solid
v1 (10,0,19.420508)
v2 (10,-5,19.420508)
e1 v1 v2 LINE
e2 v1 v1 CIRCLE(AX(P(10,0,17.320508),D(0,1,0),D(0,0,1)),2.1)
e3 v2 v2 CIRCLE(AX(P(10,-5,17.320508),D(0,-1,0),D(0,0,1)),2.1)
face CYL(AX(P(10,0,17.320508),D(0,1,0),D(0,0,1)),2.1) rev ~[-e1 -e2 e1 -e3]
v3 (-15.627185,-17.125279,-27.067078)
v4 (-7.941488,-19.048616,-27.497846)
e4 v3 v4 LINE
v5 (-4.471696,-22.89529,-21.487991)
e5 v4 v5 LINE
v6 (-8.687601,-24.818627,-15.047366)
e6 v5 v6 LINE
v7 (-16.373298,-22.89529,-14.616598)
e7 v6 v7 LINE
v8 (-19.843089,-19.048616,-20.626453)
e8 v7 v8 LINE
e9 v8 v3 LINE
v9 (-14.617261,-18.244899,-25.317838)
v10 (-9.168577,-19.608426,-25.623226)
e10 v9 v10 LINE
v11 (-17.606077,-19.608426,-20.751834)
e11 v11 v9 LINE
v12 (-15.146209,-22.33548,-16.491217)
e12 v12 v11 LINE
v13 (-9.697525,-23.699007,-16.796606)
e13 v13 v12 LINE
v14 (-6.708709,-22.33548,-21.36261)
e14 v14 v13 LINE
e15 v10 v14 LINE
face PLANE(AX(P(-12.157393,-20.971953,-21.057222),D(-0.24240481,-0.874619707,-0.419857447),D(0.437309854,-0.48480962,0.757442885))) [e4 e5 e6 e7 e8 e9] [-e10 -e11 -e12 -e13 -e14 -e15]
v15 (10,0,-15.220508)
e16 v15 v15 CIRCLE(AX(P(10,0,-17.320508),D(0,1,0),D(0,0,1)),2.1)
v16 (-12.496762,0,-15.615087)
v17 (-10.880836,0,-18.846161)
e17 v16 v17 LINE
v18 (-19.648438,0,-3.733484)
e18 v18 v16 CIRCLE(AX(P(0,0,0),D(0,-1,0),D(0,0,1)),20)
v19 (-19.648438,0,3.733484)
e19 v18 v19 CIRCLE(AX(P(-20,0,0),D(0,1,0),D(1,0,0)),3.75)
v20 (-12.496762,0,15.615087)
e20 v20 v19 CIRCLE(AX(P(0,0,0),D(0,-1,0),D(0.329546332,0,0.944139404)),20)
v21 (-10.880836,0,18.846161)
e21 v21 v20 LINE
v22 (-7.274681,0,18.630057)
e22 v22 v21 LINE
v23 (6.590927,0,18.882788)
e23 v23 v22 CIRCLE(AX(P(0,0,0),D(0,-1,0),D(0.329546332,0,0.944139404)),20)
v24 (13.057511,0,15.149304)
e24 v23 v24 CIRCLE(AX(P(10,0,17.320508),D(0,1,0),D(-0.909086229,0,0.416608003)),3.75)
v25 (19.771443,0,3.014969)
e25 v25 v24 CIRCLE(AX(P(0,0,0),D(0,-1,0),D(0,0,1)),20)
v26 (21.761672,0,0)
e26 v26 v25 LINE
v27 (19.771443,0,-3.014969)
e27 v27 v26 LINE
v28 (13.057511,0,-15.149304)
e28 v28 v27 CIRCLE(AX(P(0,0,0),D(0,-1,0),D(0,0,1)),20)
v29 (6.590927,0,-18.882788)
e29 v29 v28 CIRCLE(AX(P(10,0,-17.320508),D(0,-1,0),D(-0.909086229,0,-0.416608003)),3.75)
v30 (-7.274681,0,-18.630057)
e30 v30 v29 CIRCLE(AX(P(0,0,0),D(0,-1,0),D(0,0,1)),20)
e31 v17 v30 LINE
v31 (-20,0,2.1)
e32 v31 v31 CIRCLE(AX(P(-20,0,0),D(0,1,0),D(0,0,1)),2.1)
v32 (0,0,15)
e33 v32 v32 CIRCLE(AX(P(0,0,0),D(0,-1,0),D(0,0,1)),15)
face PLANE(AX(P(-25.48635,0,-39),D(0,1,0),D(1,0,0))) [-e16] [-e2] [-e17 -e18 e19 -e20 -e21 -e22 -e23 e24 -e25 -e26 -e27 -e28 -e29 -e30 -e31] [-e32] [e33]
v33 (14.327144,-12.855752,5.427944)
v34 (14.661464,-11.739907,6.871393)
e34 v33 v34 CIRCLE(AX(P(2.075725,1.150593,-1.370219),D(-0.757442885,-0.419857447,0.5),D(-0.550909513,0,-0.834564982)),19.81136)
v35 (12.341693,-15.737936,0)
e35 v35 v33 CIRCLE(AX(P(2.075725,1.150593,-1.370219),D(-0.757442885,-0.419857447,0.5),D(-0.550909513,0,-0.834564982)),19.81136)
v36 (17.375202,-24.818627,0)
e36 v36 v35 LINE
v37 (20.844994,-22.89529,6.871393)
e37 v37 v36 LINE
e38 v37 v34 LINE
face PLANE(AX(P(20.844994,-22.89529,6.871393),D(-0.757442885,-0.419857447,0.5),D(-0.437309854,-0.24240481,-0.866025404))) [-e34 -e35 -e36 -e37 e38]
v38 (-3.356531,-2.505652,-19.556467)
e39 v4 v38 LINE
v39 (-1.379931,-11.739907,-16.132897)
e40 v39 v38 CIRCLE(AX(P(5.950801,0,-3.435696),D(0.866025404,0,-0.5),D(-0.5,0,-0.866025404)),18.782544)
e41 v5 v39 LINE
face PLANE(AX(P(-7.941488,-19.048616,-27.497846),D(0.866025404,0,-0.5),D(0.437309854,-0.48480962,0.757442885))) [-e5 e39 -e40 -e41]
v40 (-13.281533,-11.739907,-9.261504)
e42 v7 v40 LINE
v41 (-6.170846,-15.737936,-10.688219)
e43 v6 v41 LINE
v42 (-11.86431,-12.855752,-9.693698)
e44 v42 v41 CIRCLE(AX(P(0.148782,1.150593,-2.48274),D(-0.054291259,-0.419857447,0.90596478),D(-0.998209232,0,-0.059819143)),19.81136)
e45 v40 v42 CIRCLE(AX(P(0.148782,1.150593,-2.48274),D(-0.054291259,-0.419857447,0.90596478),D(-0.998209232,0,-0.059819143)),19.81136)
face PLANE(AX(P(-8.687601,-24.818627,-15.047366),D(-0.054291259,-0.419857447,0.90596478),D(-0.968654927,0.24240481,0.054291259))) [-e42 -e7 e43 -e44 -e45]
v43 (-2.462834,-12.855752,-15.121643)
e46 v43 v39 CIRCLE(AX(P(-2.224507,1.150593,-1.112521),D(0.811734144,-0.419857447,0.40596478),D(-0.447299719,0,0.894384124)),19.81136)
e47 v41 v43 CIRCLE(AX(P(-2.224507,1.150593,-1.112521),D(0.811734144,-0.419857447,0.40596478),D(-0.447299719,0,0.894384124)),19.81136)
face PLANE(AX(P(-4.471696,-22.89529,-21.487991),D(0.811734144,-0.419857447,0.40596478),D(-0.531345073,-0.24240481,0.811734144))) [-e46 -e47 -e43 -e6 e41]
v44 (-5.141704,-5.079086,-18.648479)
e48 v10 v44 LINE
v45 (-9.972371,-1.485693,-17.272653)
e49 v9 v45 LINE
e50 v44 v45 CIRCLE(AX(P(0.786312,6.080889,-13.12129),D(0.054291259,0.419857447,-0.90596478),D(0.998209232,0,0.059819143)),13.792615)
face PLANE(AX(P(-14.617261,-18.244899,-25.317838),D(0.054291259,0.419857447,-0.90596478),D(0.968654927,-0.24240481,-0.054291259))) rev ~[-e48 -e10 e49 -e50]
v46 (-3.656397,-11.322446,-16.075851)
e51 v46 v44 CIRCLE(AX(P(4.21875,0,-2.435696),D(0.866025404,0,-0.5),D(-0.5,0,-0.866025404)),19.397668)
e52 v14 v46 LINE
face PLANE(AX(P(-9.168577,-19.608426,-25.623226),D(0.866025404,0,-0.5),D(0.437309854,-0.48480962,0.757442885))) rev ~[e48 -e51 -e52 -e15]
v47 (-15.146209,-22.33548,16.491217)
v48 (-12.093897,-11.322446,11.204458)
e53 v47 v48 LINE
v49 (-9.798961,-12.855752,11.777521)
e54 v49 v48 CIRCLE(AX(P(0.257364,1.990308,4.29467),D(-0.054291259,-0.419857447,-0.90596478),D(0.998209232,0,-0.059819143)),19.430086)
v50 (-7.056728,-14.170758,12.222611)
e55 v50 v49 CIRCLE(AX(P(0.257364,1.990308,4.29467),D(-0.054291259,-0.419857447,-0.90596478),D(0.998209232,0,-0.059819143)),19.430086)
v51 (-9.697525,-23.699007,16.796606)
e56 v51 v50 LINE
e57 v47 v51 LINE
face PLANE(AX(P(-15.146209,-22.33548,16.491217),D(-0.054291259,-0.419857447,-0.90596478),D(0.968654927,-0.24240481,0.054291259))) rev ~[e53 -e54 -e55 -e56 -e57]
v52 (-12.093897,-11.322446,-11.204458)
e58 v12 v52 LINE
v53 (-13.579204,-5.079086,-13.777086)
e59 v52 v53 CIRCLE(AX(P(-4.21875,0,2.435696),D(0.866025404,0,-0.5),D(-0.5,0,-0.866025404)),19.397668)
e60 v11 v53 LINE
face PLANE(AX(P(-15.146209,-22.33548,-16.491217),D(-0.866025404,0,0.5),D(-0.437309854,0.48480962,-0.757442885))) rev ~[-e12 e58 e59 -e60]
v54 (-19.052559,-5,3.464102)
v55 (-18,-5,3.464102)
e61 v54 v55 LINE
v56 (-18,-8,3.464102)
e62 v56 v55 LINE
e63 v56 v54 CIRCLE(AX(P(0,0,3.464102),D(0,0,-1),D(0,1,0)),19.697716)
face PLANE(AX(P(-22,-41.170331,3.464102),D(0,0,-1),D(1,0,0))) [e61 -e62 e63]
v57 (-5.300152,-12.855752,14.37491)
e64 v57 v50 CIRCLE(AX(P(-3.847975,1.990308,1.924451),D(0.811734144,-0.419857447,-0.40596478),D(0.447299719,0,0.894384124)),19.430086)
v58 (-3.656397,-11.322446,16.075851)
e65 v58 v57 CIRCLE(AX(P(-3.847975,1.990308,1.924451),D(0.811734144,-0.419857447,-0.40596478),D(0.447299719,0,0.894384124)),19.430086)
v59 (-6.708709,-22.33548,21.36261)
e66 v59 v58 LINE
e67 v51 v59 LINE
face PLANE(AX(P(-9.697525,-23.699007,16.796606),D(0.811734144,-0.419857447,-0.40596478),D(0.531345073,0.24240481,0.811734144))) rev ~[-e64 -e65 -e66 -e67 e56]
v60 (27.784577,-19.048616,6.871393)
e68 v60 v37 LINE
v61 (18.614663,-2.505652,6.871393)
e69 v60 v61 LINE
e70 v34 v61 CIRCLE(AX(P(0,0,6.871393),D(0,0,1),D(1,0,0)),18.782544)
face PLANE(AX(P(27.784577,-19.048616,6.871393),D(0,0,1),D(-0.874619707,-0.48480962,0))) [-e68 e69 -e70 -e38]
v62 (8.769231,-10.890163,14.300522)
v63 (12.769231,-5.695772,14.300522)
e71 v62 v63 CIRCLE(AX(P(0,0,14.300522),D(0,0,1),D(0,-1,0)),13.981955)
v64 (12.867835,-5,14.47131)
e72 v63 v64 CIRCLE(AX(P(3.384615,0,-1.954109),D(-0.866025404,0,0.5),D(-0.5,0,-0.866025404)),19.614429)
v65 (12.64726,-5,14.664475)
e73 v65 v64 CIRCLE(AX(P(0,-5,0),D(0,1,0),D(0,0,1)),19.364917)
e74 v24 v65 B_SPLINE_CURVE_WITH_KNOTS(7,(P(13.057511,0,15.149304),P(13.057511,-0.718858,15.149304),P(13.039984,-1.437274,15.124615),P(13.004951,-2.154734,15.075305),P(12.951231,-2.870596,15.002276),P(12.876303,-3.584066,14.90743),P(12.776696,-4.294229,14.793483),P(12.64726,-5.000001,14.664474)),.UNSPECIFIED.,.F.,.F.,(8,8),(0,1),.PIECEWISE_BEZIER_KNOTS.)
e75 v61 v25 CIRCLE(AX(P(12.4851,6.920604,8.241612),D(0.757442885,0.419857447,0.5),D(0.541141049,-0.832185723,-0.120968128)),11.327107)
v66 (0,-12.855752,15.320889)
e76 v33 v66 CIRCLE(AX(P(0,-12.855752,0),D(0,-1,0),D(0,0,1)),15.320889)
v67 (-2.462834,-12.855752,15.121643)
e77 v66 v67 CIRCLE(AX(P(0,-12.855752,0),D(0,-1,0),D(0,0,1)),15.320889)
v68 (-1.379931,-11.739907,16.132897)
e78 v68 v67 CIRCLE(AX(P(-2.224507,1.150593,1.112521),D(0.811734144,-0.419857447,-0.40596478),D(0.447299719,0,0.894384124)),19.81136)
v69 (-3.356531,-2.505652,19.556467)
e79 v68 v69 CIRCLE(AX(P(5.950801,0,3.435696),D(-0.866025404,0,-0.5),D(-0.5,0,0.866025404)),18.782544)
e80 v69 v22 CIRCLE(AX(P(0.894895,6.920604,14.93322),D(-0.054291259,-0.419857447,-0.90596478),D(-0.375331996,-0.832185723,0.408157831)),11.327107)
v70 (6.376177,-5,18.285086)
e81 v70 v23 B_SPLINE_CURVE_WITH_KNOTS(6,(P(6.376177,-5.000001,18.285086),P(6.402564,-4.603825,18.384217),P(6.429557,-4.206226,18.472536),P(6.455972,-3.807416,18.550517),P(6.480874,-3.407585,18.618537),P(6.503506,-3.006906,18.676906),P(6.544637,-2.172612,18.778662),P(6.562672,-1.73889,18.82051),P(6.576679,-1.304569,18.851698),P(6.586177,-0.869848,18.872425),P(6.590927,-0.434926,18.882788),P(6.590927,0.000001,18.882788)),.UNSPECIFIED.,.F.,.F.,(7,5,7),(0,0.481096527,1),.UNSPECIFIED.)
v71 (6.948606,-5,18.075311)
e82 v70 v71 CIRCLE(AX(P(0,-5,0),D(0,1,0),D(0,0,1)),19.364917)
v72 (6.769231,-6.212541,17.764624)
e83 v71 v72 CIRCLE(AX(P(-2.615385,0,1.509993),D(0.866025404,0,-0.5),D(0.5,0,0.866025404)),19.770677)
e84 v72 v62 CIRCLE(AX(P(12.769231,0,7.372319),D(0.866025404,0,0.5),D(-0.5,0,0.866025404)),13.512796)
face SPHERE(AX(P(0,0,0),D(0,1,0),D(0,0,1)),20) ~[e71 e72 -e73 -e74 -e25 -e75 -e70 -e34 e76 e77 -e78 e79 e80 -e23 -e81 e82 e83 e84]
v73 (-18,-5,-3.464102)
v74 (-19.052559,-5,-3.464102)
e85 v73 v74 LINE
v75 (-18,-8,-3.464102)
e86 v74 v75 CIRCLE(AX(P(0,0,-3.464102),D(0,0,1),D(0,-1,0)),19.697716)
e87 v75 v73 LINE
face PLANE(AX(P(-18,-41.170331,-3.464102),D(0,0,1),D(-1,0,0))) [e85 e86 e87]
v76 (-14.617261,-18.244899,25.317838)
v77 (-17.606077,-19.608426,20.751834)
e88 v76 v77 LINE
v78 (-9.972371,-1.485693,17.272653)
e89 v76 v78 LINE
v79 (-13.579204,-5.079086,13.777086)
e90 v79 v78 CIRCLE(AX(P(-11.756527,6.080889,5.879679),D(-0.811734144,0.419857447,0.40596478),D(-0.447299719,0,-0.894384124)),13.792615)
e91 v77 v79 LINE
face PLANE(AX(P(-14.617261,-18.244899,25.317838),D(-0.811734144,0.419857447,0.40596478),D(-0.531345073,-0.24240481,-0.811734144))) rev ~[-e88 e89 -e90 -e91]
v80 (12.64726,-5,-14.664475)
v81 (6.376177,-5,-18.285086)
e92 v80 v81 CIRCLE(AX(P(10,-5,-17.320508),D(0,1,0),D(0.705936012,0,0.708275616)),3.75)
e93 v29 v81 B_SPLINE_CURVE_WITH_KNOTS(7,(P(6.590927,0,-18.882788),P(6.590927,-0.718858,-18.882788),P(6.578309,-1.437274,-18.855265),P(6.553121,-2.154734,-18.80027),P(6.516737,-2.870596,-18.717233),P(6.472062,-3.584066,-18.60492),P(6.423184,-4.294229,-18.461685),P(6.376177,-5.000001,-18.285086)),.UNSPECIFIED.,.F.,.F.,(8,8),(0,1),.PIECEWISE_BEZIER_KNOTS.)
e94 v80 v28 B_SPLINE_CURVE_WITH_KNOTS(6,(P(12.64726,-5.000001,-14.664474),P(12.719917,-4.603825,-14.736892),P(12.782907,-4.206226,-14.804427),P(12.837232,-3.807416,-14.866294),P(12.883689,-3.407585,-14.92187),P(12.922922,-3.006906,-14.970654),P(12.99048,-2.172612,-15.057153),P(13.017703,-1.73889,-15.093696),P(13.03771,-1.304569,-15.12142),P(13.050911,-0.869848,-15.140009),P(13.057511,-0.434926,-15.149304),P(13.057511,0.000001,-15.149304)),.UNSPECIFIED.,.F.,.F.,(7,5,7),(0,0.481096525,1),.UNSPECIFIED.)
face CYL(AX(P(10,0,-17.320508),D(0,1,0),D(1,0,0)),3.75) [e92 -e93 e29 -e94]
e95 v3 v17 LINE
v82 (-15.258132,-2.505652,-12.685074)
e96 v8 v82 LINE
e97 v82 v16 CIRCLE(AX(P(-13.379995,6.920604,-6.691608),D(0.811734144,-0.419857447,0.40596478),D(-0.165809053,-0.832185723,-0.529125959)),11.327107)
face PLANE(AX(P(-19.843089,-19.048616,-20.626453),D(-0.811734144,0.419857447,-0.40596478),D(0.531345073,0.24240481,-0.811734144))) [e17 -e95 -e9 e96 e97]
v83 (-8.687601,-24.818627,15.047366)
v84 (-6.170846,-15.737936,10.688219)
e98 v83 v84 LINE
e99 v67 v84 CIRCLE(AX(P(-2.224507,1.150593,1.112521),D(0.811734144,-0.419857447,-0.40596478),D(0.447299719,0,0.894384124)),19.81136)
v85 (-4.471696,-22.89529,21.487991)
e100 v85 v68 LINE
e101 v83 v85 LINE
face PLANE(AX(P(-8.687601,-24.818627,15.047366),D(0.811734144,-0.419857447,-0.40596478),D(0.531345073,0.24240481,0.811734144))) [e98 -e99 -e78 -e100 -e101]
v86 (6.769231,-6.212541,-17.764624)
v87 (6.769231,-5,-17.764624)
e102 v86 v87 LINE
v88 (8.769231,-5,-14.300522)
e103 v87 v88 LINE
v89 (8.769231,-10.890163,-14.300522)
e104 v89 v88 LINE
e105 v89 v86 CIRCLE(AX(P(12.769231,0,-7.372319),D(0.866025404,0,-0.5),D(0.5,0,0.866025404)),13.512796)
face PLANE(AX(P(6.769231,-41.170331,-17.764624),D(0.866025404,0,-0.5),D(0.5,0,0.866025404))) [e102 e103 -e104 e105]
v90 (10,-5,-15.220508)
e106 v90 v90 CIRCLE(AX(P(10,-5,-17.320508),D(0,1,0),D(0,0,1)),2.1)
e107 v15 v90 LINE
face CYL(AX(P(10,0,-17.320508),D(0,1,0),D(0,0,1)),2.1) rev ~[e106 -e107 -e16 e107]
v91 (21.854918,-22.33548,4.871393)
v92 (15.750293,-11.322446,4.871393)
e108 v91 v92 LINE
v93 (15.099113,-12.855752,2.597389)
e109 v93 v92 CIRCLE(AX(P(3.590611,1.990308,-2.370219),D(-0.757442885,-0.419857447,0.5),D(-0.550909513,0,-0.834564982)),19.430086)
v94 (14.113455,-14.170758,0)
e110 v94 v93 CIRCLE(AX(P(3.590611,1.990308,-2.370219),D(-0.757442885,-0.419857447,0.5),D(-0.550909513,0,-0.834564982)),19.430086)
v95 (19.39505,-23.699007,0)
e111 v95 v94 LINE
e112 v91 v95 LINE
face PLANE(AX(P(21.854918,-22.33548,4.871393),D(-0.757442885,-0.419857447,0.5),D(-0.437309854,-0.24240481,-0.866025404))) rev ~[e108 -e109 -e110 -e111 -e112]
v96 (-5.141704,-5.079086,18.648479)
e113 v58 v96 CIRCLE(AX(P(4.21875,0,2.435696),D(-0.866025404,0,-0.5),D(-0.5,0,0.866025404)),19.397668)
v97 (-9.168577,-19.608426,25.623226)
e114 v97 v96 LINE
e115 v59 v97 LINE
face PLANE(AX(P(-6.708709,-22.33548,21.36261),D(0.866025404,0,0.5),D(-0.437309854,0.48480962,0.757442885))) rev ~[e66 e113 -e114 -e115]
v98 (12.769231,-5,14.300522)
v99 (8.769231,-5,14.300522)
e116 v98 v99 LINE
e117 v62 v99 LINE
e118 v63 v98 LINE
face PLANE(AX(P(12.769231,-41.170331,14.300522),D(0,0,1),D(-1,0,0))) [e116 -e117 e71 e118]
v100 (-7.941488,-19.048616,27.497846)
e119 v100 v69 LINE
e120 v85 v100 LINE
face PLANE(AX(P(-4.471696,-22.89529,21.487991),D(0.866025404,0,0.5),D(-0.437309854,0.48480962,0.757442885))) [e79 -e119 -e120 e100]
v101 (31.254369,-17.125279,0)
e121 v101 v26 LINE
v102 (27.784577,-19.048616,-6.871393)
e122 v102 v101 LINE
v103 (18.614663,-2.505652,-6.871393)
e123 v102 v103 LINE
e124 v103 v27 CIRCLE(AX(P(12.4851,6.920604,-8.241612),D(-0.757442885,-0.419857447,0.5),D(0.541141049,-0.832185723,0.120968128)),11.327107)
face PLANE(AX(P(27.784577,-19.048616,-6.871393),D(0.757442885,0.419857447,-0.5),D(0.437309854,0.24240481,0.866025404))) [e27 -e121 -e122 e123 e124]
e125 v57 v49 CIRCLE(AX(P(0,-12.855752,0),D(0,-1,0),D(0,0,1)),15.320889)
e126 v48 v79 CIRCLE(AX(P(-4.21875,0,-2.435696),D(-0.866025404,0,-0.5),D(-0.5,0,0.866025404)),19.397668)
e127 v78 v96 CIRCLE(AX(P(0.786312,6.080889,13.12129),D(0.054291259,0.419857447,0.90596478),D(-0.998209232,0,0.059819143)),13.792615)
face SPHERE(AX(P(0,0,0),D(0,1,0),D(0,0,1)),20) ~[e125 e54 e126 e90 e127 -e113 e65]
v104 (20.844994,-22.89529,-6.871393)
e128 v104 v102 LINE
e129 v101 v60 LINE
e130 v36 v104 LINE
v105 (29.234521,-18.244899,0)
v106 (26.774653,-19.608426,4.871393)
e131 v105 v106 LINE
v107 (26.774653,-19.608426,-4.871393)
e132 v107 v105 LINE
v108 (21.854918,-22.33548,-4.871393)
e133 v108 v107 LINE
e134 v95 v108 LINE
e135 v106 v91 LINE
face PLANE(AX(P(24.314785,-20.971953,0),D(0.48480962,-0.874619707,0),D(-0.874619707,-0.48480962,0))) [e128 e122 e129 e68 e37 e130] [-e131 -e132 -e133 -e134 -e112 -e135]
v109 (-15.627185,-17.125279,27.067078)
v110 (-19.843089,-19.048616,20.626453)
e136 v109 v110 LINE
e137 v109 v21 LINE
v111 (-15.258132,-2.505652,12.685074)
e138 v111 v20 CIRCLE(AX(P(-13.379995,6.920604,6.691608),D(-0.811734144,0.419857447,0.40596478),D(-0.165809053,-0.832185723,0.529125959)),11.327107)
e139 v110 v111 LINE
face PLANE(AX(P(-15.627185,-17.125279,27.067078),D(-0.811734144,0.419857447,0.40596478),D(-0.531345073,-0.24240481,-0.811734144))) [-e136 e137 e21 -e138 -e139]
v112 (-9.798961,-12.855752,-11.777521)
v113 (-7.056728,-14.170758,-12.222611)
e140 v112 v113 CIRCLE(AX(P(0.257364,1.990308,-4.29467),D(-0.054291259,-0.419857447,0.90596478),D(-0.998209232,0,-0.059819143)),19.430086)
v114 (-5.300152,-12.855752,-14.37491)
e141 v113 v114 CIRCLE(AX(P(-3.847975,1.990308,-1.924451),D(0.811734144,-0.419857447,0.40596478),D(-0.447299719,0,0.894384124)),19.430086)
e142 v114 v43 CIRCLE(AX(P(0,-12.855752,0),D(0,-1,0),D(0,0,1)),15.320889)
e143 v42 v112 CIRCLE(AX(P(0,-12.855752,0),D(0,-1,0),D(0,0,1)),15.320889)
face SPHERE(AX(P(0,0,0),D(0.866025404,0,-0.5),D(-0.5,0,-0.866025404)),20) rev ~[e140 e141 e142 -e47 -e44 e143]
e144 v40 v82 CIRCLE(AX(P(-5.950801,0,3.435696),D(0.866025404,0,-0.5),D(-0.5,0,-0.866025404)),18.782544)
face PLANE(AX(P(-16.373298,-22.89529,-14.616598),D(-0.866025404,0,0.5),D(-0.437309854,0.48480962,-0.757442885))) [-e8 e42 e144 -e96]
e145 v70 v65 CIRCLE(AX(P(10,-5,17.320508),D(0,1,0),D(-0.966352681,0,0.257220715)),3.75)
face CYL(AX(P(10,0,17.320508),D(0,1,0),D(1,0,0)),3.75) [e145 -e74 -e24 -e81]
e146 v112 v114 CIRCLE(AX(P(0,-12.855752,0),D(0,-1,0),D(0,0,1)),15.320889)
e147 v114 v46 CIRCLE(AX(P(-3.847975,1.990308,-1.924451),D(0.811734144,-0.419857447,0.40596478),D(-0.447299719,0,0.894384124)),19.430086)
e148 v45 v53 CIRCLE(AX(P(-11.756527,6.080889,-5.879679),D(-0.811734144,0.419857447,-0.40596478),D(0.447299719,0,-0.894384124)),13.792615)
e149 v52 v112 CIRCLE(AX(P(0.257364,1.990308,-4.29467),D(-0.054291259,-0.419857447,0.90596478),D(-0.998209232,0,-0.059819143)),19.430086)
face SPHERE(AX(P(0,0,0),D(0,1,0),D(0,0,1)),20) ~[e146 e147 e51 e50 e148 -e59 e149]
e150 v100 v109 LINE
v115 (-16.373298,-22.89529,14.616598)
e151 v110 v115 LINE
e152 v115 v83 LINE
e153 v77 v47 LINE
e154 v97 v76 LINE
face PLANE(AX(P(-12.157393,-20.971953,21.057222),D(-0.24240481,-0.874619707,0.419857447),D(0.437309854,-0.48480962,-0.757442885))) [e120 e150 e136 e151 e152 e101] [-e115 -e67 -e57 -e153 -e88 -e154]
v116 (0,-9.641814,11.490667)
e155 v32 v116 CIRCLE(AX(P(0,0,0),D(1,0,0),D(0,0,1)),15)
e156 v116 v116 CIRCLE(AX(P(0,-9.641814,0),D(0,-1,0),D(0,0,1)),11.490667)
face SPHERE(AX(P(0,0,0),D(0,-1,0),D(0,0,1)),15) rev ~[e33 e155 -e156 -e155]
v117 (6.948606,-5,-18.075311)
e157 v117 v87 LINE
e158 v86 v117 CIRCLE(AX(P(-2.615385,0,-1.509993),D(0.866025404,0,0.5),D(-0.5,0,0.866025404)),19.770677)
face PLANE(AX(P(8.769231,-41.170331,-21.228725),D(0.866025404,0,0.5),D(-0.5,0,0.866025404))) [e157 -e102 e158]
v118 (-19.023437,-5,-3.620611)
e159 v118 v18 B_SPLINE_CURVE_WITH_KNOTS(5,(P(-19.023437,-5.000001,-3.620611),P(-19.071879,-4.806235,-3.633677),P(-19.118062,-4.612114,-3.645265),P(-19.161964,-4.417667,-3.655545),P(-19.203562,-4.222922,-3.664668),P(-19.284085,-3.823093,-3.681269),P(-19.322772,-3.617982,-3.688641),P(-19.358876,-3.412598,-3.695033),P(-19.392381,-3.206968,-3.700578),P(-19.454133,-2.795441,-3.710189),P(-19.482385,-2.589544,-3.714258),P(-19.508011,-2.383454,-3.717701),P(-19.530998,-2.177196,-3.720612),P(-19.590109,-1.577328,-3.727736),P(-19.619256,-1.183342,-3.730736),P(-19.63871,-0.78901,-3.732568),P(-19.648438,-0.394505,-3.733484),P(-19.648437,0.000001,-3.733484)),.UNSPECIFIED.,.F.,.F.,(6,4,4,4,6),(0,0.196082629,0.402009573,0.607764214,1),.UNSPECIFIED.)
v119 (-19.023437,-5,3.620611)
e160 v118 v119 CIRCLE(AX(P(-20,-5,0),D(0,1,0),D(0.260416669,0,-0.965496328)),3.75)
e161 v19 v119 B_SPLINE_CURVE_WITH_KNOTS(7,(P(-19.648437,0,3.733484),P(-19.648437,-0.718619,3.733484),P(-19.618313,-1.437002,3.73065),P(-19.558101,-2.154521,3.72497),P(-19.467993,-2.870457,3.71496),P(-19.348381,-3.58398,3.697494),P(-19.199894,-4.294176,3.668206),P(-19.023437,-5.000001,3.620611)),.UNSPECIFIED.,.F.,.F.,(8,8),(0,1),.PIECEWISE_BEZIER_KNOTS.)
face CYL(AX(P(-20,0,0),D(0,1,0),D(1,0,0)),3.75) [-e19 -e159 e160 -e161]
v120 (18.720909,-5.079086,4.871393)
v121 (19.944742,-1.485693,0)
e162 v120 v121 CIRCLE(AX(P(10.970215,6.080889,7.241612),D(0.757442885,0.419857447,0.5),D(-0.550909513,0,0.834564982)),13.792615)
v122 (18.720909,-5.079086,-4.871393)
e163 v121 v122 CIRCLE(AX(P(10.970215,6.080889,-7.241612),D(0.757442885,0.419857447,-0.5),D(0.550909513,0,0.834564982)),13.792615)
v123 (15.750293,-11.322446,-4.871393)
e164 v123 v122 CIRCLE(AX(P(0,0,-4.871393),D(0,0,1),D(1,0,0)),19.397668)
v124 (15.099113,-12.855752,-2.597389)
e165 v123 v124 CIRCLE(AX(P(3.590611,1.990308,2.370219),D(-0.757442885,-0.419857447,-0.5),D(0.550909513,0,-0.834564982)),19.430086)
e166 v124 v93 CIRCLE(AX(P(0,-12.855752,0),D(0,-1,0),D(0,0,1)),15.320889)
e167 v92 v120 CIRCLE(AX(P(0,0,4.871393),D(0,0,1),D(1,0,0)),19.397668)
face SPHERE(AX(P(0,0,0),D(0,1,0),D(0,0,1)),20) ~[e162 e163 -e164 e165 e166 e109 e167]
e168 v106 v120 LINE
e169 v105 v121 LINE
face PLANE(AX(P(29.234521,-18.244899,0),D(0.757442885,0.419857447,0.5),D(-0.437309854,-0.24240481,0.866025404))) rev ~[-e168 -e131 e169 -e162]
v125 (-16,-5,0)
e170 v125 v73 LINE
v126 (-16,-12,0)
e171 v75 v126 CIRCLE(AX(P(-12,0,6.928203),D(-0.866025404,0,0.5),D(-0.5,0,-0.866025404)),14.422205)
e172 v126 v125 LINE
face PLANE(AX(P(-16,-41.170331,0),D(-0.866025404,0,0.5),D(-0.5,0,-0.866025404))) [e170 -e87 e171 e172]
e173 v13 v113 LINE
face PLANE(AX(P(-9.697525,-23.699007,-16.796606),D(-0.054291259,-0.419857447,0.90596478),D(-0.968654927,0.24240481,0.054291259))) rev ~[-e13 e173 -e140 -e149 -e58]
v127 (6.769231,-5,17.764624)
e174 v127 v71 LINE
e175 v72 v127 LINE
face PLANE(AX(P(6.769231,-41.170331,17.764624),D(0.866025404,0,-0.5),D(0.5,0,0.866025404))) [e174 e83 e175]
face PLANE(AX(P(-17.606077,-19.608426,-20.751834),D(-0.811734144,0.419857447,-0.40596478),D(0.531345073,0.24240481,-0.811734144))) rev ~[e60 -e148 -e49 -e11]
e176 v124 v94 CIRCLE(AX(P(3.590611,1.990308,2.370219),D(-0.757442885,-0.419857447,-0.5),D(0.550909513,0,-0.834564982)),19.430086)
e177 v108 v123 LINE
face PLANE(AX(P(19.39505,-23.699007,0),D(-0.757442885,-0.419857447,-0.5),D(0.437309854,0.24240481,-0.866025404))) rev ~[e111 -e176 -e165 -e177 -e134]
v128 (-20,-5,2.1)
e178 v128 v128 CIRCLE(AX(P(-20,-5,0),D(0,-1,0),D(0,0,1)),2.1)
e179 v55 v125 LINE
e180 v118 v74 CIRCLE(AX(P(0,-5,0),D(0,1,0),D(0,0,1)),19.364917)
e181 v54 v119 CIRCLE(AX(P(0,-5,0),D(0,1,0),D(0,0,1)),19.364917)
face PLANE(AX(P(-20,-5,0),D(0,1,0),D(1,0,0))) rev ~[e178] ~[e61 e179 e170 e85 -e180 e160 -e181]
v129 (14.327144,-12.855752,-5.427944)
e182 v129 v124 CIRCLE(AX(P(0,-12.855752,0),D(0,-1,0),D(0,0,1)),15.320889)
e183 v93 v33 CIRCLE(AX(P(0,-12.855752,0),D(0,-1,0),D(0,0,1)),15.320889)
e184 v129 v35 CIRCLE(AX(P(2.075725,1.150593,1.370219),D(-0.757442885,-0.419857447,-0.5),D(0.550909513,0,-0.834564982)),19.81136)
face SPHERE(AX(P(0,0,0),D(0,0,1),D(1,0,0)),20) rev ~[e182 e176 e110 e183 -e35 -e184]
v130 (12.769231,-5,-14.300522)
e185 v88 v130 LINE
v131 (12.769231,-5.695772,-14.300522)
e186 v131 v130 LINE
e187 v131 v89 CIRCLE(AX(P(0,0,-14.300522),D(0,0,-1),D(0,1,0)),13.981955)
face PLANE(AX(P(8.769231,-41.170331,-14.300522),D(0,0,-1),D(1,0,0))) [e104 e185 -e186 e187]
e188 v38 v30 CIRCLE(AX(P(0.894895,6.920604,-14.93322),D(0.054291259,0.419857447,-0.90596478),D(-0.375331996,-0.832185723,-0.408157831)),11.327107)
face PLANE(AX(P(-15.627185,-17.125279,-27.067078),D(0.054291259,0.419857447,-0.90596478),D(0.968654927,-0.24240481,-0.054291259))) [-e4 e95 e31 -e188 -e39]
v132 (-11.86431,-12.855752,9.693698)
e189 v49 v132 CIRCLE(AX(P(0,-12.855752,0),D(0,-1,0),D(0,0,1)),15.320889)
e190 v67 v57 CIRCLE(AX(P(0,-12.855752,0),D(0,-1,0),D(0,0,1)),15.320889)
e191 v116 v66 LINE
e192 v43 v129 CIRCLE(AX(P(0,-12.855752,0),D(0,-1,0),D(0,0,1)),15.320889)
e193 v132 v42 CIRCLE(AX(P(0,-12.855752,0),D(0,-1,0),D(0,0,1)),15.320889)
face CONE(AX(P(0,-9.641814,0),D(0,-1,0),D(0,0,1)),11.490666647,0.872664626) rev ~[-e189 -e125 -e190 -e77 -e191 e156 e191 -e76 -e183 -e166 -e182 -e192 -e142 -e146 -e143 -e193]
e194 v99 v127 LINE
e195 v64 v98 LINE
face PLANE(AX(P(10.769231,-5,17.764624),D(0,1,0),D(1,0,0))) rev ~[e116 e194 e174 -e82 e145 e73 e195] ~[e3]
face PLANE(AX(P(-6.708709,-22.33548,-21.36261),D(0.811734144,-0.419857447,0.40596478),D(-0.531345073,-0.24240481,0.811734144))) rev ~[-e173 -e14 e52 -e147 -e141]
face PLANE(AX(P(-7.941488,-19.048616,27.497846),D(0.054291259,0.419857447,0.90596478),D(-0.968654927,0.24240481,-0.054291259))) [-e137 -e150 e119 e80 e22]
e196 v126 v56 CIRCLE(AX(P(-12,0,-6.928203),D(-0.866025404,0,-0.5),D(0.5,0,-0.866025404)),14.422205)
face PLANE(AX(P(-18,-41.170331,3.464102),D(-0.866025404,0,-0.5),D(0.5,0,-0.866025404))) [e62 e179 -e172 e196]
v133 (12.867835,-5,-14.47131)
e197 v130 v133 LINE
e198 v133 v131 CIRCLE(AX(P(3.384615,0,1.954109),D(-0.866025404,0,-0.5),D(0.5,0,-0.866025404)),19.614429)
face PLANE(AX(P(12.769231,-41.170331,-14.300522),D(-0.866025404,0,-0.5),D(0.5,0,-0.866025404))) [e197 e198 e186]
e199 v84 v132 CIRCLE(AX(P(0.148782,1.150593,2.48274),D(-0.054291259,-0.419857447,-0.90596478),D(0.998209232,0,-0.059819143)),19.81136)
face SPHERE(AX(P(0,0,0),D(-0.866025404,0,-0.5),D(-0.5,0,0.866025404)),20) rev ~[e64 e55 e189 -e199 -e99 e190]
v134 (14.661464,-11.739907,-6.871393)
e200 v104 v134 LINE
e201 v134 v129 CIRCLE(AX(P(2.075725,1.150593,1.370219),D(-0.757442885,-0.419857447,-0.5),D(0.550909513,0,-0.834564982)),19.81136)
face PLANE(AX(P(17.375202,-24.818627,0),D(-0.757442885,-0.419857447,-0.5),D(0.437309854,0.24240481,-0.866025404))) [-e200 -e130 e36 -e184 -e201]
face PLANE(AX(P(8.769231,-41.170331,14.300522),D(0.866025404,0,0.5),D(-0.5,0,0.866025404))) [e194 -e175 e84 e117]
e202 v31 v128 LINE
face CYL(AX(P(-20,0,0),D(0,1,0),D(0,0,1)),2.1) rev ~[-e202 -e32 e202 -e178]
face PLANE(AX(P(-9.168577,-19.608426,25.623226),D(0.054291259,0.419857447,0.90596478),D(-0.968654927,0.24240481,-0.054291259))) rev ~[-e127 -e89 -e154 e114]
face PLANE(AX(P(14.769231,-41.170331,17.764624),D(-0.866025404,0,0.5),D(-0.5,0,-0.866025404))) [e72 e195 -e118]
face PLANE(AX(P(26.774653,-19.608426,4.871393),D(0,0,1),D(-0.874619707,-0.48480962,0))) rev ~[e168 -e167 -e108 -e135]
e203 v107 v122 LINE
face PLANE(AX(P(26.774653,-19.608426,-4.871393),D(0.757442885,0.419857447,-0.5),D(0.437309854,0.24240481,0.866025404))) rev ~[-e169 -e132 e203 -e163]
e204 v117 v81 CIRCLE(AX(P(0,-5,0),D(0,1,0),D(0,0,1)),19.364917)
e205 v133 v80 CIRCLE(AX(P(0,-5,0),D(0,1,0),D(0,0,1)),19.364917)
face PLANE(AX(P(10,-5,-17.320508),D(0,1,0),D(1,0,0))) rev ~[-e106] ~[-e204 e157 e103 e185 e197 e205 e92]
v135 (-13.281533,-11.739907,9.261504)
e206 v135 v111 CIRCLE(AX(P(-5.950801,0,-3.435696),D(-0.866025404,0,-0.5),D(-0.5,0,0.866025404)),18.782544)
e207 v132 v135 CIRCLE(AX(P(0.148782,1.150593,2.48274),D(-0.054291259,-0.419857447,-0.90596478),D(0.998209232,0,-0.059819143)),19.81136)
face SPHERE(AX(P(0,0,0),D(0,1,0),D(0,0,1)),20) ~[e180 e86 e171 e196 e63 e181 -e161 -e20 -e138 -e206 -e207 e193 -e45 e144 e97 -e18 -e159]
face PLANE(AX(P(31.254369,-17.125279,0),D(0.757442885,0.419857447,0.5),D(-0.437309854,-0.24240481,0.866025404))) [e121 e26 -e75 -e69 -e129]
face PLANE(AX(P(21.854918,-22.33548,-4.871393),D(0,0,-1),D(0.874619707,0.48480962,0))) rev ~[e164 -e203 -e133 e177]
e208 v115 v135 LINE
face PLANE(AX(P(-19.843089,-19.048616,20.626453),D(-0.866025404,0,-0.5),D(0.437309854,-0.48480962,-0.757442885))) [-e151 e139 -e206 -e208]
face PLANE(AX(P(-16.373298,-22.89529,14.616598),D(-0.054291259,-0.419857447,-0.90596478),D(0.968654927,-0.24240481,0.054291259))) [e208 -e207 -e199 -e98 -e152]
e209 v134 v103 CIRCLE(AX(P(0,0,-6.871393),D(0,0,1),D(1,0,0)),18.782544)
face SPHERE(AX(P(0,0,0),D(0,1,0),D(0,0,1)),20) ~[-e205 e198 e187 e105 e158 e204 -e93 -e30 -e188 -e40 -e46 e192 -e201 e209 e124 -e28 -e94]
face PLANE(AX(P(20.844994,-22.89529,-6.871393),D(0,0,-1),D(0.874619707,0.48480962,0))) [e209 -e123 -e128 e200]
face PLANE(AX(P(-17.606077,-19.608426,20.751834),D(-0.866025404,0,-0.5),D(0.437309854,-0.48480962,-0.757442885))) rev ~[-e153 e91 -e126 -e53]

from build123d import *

# Parameters (mm, degrees)
IZIM4_R                          = 3.75
IZIM4_R_2                        = 1.75
Y_KSEKLIK_EKSTR_ZYON1_DEPTH      = 5
IZIM5_R                          = 2.1
KES_EKSTR_ZYON1_DEPTH            = 24
KES_EKSTR_ZYON2_DEPTH            = 36.170331308
Y_KSEKLIK_EKSTR_ZYON2_REACH      = 67.295
Y_KSEKLIK_EKSTR_ZYON2_END_RADIUS = 20
Y_KSEKLIK_EKSTR_ZYON2_START      = -5
DAIRESEL_KAPLAMA1_COUNT          = 3
KES_EKSTR_ZYON3_DEPTH            = 45
KES_EKSTR_ZYON3_DEPTH_BACK       = 39
IZIM10_W                         = 61.268894521
IZIM10_H                         = 17.891205564


with BuildPart() as part:
    # Çizim3 → Döndür1 (revolve)
    with BuildSketch(Plane.XY, mode=Mode.PRIVATE) as d_nd_r1_sk:
        with BuildLine():
            Line((-11.490666647, -9.641814145), (-15.320888862, -12.855752194))
            ThreePointArc((-15.320888862, -12.855752194), (-18.793852416, -6.840402867), (-20, 0))
            Line((-20, 0), (-15, 0))
            ThreePointArc((-15, 0), (-14.095389312, -5.13030215), (-11.490666647, -9.641814145))
        make_face()
    revolve(d_nd_r1_sk.sketch.rotate(Axis((0, 24.311963794, 0), (0, -1, 0)), 270), axis=Axis((0, 24.311963794, 0), (0, -1, 0)))

    # Çizim4 → Yükseklik-Ekstrüzyon1 (add)
    # profile 1 of 3: a face of its own
    with BuildSketch(Plane(origin=(0, 0, 0), x_dir=(1, 0, 0), z_dir=(0, 1, 0))):
        with Locations((10, 17.320508076)):
            Circle(IZIM4_R)
        with Locations((10, 17.320508076)):
            Circle(IZIM4_R_2, mode=Mode.SUBTRACT)
    # profile 2 of 3: a face of its own
    with BuildSketch(Plane(origin=(0, 0, 0), x_dir=(1, 0, 0), z_dir=(0, 1, 0))):
        with Locations((-20, 0)):
            Circle(IZIM4_R)
        with Locations((-20, 0)):
            Circle(IZIM4_R_2, mode=Mode.SUBTRACT)
    # profile 3 of 3: a face of its own
    with BuildSketch(Plane(origin=(0, 0, 0), x_dir=(1, 0, 0), z_dir=(0, 1, 0))):
        with Locations((10, -17.320508076)):
            Circle(IZIM4_R)
        with Locations((10, -17.320508076)):
            Circle(IZIM4_R_2, mode=Mode.SUBTRACT)
    extrude(amount=-Y_KSEKLIK_EKSTR_ZYON1_DEPTH)

    # Çizim5 → Kes-Ekstrüzyon1 (cut)
    with BuildSketch(Plane(origin=(0, 0, 0), x_dir=(1, 0, 0), z_dir=(0, 1, 0))):
        with Locations(Location((10, 17.320508076, 0), (0, 0, 270))):
            Circle(IZIM5_R)
        with Locations(Location((-20, 0, 0), (0, 0, 270))):
            Circle(IZIM5_R)
        with Locations(Location((10, -17.320508076, 0), (0, 0, 270))):
            Circle(IZIM5_R)
    extrude(amount=-KES_EKSTR_ZYON1_DEPTH, mode=Mode.SUBTRACT)

    # Çizim6 → Kes-Ekstrüzyon2 (cut)
    with BuildSketch(Plane(origin=(0, -41.170331308, 0), x_dir=(1, 0, 0), z_dir=(0, 1, 0))):
        Polygon((-16, 0), (-18, 3.464101615), (-22, 3.464101615), (-24, 0), (-22, -3.464101615), (-18, -3.464101615), align=None)
        Polygon((8.769230769, 14.300522052), (12.769230769, 14.300522052), (14.769230769, 17.764623667), (12.769230769, 21.228725283), (8.769230769, 21.228725283), (6.769230769, 17.764623667), align=None)
        Polygon((8.769230769, -14.300522052), (6.769230769, -17.764623667), (8.769230769, -21.228725283), (12.769230769, -21.228725283), (14.769230769, -17.764623667), (12.769230769, -14.300522052), align=None)
    extrude(amount=KES_EKSTR_ZYON2_DEPTH, mode=Mode.SUBTRACT)

    # Yükseklik-Ekstrüzyon2: up to this sphere (the profile starts outside it)
    y_kseklik_ekstr_zyon2_end = Location((0, 0, 0)) * Sphere(Y_KSEKLIK_EKSTR_ZYON2_END_RADIUS, mode=Mode.PRIVATE)
    # Çizim9 → Yükseklik-Ekstrüzyon2 (add, up to the surface)
    with BuildSketch(Plane(origin=(26.738833579, -25.345051489, 0), x_dir=(-0.8746197071393953, -0.48480962024633817, 0), z_dir=(0.48480962024633817, -0.8746197071393953, 0)).offset(Y_KSEKLIK_EKSTR_ZYON2_START), mode=Mode.PRIVATE) as y_kseklik_ekstr_zyon2_sk1:
        Polygon((3.967200538, 6.871392896), (-3.967200538, 6.871392896), (-7.934401077, 0), (-3.967200538, -6.871392896), (3.967200538, -6.871392896), (7.934401077, 0), align=None)
        Polygon((5.625, 0), (2.8125, 4.871392896), (-2.8125, 4.871392896), (-5.625, 0), (-2.8125, -4.871392896), (2.8125, -4.871392896), align=None, mode=Mode.SUBTRACT)
    y_kseklik_ekstr_zyon2_tool1 = extrude(y_kseklik_ekstr_zyon2_sk1.sketch, amount=-Y_KSEKLIK_EKSTR_ZYON2_REACH, mode=Mode.PRIVATE) - y_kseklik_ekstr_zyon2_end
    y_kseklik_ekstr_zyon2 = y_kseklik_ekstr_zyon2_tool1.solids().sort_by_distance((24.314785, -20.971953, -6.661468))[0]
    add(y_kseklik_ekstr_zyon2)

    # Dairesel Kaplama1: Yükseklik-Ekstrüzyon2 ×3 about axis
    dairesel_kaplama1_axis = Axis((0, 0, 0), (0, 1, 0))
    for i in range(1, DAIRESEL_KAPLAMA1_COUNT):
        add(y_kseklik_ekstr_zyon2.rotate(dairesel_kaplama1_axis, i * 360 / DAIRESEL_KAPLAMA1_COUNT))

    # Çizim10 → Kes-Ekstrüzyon3 (cut, two sides: drawn at the far end of the back side and taken through both)
    with BuildSketch(Plane.XY.offset(-KES_EKSTR_ZYON3_DEPTH_BACK)):
        with Locations((5.148097131, 8.945602782)):
            Rectangle(IZIM10_W, IZIM10_H)
    extrude(amount=KES_EKSTR_ZYON3_DEPTH + KES_EKSTR_ZYON3_DEPTH_BACK, mode=Mode.SUBTRACT)


solid = part.part
